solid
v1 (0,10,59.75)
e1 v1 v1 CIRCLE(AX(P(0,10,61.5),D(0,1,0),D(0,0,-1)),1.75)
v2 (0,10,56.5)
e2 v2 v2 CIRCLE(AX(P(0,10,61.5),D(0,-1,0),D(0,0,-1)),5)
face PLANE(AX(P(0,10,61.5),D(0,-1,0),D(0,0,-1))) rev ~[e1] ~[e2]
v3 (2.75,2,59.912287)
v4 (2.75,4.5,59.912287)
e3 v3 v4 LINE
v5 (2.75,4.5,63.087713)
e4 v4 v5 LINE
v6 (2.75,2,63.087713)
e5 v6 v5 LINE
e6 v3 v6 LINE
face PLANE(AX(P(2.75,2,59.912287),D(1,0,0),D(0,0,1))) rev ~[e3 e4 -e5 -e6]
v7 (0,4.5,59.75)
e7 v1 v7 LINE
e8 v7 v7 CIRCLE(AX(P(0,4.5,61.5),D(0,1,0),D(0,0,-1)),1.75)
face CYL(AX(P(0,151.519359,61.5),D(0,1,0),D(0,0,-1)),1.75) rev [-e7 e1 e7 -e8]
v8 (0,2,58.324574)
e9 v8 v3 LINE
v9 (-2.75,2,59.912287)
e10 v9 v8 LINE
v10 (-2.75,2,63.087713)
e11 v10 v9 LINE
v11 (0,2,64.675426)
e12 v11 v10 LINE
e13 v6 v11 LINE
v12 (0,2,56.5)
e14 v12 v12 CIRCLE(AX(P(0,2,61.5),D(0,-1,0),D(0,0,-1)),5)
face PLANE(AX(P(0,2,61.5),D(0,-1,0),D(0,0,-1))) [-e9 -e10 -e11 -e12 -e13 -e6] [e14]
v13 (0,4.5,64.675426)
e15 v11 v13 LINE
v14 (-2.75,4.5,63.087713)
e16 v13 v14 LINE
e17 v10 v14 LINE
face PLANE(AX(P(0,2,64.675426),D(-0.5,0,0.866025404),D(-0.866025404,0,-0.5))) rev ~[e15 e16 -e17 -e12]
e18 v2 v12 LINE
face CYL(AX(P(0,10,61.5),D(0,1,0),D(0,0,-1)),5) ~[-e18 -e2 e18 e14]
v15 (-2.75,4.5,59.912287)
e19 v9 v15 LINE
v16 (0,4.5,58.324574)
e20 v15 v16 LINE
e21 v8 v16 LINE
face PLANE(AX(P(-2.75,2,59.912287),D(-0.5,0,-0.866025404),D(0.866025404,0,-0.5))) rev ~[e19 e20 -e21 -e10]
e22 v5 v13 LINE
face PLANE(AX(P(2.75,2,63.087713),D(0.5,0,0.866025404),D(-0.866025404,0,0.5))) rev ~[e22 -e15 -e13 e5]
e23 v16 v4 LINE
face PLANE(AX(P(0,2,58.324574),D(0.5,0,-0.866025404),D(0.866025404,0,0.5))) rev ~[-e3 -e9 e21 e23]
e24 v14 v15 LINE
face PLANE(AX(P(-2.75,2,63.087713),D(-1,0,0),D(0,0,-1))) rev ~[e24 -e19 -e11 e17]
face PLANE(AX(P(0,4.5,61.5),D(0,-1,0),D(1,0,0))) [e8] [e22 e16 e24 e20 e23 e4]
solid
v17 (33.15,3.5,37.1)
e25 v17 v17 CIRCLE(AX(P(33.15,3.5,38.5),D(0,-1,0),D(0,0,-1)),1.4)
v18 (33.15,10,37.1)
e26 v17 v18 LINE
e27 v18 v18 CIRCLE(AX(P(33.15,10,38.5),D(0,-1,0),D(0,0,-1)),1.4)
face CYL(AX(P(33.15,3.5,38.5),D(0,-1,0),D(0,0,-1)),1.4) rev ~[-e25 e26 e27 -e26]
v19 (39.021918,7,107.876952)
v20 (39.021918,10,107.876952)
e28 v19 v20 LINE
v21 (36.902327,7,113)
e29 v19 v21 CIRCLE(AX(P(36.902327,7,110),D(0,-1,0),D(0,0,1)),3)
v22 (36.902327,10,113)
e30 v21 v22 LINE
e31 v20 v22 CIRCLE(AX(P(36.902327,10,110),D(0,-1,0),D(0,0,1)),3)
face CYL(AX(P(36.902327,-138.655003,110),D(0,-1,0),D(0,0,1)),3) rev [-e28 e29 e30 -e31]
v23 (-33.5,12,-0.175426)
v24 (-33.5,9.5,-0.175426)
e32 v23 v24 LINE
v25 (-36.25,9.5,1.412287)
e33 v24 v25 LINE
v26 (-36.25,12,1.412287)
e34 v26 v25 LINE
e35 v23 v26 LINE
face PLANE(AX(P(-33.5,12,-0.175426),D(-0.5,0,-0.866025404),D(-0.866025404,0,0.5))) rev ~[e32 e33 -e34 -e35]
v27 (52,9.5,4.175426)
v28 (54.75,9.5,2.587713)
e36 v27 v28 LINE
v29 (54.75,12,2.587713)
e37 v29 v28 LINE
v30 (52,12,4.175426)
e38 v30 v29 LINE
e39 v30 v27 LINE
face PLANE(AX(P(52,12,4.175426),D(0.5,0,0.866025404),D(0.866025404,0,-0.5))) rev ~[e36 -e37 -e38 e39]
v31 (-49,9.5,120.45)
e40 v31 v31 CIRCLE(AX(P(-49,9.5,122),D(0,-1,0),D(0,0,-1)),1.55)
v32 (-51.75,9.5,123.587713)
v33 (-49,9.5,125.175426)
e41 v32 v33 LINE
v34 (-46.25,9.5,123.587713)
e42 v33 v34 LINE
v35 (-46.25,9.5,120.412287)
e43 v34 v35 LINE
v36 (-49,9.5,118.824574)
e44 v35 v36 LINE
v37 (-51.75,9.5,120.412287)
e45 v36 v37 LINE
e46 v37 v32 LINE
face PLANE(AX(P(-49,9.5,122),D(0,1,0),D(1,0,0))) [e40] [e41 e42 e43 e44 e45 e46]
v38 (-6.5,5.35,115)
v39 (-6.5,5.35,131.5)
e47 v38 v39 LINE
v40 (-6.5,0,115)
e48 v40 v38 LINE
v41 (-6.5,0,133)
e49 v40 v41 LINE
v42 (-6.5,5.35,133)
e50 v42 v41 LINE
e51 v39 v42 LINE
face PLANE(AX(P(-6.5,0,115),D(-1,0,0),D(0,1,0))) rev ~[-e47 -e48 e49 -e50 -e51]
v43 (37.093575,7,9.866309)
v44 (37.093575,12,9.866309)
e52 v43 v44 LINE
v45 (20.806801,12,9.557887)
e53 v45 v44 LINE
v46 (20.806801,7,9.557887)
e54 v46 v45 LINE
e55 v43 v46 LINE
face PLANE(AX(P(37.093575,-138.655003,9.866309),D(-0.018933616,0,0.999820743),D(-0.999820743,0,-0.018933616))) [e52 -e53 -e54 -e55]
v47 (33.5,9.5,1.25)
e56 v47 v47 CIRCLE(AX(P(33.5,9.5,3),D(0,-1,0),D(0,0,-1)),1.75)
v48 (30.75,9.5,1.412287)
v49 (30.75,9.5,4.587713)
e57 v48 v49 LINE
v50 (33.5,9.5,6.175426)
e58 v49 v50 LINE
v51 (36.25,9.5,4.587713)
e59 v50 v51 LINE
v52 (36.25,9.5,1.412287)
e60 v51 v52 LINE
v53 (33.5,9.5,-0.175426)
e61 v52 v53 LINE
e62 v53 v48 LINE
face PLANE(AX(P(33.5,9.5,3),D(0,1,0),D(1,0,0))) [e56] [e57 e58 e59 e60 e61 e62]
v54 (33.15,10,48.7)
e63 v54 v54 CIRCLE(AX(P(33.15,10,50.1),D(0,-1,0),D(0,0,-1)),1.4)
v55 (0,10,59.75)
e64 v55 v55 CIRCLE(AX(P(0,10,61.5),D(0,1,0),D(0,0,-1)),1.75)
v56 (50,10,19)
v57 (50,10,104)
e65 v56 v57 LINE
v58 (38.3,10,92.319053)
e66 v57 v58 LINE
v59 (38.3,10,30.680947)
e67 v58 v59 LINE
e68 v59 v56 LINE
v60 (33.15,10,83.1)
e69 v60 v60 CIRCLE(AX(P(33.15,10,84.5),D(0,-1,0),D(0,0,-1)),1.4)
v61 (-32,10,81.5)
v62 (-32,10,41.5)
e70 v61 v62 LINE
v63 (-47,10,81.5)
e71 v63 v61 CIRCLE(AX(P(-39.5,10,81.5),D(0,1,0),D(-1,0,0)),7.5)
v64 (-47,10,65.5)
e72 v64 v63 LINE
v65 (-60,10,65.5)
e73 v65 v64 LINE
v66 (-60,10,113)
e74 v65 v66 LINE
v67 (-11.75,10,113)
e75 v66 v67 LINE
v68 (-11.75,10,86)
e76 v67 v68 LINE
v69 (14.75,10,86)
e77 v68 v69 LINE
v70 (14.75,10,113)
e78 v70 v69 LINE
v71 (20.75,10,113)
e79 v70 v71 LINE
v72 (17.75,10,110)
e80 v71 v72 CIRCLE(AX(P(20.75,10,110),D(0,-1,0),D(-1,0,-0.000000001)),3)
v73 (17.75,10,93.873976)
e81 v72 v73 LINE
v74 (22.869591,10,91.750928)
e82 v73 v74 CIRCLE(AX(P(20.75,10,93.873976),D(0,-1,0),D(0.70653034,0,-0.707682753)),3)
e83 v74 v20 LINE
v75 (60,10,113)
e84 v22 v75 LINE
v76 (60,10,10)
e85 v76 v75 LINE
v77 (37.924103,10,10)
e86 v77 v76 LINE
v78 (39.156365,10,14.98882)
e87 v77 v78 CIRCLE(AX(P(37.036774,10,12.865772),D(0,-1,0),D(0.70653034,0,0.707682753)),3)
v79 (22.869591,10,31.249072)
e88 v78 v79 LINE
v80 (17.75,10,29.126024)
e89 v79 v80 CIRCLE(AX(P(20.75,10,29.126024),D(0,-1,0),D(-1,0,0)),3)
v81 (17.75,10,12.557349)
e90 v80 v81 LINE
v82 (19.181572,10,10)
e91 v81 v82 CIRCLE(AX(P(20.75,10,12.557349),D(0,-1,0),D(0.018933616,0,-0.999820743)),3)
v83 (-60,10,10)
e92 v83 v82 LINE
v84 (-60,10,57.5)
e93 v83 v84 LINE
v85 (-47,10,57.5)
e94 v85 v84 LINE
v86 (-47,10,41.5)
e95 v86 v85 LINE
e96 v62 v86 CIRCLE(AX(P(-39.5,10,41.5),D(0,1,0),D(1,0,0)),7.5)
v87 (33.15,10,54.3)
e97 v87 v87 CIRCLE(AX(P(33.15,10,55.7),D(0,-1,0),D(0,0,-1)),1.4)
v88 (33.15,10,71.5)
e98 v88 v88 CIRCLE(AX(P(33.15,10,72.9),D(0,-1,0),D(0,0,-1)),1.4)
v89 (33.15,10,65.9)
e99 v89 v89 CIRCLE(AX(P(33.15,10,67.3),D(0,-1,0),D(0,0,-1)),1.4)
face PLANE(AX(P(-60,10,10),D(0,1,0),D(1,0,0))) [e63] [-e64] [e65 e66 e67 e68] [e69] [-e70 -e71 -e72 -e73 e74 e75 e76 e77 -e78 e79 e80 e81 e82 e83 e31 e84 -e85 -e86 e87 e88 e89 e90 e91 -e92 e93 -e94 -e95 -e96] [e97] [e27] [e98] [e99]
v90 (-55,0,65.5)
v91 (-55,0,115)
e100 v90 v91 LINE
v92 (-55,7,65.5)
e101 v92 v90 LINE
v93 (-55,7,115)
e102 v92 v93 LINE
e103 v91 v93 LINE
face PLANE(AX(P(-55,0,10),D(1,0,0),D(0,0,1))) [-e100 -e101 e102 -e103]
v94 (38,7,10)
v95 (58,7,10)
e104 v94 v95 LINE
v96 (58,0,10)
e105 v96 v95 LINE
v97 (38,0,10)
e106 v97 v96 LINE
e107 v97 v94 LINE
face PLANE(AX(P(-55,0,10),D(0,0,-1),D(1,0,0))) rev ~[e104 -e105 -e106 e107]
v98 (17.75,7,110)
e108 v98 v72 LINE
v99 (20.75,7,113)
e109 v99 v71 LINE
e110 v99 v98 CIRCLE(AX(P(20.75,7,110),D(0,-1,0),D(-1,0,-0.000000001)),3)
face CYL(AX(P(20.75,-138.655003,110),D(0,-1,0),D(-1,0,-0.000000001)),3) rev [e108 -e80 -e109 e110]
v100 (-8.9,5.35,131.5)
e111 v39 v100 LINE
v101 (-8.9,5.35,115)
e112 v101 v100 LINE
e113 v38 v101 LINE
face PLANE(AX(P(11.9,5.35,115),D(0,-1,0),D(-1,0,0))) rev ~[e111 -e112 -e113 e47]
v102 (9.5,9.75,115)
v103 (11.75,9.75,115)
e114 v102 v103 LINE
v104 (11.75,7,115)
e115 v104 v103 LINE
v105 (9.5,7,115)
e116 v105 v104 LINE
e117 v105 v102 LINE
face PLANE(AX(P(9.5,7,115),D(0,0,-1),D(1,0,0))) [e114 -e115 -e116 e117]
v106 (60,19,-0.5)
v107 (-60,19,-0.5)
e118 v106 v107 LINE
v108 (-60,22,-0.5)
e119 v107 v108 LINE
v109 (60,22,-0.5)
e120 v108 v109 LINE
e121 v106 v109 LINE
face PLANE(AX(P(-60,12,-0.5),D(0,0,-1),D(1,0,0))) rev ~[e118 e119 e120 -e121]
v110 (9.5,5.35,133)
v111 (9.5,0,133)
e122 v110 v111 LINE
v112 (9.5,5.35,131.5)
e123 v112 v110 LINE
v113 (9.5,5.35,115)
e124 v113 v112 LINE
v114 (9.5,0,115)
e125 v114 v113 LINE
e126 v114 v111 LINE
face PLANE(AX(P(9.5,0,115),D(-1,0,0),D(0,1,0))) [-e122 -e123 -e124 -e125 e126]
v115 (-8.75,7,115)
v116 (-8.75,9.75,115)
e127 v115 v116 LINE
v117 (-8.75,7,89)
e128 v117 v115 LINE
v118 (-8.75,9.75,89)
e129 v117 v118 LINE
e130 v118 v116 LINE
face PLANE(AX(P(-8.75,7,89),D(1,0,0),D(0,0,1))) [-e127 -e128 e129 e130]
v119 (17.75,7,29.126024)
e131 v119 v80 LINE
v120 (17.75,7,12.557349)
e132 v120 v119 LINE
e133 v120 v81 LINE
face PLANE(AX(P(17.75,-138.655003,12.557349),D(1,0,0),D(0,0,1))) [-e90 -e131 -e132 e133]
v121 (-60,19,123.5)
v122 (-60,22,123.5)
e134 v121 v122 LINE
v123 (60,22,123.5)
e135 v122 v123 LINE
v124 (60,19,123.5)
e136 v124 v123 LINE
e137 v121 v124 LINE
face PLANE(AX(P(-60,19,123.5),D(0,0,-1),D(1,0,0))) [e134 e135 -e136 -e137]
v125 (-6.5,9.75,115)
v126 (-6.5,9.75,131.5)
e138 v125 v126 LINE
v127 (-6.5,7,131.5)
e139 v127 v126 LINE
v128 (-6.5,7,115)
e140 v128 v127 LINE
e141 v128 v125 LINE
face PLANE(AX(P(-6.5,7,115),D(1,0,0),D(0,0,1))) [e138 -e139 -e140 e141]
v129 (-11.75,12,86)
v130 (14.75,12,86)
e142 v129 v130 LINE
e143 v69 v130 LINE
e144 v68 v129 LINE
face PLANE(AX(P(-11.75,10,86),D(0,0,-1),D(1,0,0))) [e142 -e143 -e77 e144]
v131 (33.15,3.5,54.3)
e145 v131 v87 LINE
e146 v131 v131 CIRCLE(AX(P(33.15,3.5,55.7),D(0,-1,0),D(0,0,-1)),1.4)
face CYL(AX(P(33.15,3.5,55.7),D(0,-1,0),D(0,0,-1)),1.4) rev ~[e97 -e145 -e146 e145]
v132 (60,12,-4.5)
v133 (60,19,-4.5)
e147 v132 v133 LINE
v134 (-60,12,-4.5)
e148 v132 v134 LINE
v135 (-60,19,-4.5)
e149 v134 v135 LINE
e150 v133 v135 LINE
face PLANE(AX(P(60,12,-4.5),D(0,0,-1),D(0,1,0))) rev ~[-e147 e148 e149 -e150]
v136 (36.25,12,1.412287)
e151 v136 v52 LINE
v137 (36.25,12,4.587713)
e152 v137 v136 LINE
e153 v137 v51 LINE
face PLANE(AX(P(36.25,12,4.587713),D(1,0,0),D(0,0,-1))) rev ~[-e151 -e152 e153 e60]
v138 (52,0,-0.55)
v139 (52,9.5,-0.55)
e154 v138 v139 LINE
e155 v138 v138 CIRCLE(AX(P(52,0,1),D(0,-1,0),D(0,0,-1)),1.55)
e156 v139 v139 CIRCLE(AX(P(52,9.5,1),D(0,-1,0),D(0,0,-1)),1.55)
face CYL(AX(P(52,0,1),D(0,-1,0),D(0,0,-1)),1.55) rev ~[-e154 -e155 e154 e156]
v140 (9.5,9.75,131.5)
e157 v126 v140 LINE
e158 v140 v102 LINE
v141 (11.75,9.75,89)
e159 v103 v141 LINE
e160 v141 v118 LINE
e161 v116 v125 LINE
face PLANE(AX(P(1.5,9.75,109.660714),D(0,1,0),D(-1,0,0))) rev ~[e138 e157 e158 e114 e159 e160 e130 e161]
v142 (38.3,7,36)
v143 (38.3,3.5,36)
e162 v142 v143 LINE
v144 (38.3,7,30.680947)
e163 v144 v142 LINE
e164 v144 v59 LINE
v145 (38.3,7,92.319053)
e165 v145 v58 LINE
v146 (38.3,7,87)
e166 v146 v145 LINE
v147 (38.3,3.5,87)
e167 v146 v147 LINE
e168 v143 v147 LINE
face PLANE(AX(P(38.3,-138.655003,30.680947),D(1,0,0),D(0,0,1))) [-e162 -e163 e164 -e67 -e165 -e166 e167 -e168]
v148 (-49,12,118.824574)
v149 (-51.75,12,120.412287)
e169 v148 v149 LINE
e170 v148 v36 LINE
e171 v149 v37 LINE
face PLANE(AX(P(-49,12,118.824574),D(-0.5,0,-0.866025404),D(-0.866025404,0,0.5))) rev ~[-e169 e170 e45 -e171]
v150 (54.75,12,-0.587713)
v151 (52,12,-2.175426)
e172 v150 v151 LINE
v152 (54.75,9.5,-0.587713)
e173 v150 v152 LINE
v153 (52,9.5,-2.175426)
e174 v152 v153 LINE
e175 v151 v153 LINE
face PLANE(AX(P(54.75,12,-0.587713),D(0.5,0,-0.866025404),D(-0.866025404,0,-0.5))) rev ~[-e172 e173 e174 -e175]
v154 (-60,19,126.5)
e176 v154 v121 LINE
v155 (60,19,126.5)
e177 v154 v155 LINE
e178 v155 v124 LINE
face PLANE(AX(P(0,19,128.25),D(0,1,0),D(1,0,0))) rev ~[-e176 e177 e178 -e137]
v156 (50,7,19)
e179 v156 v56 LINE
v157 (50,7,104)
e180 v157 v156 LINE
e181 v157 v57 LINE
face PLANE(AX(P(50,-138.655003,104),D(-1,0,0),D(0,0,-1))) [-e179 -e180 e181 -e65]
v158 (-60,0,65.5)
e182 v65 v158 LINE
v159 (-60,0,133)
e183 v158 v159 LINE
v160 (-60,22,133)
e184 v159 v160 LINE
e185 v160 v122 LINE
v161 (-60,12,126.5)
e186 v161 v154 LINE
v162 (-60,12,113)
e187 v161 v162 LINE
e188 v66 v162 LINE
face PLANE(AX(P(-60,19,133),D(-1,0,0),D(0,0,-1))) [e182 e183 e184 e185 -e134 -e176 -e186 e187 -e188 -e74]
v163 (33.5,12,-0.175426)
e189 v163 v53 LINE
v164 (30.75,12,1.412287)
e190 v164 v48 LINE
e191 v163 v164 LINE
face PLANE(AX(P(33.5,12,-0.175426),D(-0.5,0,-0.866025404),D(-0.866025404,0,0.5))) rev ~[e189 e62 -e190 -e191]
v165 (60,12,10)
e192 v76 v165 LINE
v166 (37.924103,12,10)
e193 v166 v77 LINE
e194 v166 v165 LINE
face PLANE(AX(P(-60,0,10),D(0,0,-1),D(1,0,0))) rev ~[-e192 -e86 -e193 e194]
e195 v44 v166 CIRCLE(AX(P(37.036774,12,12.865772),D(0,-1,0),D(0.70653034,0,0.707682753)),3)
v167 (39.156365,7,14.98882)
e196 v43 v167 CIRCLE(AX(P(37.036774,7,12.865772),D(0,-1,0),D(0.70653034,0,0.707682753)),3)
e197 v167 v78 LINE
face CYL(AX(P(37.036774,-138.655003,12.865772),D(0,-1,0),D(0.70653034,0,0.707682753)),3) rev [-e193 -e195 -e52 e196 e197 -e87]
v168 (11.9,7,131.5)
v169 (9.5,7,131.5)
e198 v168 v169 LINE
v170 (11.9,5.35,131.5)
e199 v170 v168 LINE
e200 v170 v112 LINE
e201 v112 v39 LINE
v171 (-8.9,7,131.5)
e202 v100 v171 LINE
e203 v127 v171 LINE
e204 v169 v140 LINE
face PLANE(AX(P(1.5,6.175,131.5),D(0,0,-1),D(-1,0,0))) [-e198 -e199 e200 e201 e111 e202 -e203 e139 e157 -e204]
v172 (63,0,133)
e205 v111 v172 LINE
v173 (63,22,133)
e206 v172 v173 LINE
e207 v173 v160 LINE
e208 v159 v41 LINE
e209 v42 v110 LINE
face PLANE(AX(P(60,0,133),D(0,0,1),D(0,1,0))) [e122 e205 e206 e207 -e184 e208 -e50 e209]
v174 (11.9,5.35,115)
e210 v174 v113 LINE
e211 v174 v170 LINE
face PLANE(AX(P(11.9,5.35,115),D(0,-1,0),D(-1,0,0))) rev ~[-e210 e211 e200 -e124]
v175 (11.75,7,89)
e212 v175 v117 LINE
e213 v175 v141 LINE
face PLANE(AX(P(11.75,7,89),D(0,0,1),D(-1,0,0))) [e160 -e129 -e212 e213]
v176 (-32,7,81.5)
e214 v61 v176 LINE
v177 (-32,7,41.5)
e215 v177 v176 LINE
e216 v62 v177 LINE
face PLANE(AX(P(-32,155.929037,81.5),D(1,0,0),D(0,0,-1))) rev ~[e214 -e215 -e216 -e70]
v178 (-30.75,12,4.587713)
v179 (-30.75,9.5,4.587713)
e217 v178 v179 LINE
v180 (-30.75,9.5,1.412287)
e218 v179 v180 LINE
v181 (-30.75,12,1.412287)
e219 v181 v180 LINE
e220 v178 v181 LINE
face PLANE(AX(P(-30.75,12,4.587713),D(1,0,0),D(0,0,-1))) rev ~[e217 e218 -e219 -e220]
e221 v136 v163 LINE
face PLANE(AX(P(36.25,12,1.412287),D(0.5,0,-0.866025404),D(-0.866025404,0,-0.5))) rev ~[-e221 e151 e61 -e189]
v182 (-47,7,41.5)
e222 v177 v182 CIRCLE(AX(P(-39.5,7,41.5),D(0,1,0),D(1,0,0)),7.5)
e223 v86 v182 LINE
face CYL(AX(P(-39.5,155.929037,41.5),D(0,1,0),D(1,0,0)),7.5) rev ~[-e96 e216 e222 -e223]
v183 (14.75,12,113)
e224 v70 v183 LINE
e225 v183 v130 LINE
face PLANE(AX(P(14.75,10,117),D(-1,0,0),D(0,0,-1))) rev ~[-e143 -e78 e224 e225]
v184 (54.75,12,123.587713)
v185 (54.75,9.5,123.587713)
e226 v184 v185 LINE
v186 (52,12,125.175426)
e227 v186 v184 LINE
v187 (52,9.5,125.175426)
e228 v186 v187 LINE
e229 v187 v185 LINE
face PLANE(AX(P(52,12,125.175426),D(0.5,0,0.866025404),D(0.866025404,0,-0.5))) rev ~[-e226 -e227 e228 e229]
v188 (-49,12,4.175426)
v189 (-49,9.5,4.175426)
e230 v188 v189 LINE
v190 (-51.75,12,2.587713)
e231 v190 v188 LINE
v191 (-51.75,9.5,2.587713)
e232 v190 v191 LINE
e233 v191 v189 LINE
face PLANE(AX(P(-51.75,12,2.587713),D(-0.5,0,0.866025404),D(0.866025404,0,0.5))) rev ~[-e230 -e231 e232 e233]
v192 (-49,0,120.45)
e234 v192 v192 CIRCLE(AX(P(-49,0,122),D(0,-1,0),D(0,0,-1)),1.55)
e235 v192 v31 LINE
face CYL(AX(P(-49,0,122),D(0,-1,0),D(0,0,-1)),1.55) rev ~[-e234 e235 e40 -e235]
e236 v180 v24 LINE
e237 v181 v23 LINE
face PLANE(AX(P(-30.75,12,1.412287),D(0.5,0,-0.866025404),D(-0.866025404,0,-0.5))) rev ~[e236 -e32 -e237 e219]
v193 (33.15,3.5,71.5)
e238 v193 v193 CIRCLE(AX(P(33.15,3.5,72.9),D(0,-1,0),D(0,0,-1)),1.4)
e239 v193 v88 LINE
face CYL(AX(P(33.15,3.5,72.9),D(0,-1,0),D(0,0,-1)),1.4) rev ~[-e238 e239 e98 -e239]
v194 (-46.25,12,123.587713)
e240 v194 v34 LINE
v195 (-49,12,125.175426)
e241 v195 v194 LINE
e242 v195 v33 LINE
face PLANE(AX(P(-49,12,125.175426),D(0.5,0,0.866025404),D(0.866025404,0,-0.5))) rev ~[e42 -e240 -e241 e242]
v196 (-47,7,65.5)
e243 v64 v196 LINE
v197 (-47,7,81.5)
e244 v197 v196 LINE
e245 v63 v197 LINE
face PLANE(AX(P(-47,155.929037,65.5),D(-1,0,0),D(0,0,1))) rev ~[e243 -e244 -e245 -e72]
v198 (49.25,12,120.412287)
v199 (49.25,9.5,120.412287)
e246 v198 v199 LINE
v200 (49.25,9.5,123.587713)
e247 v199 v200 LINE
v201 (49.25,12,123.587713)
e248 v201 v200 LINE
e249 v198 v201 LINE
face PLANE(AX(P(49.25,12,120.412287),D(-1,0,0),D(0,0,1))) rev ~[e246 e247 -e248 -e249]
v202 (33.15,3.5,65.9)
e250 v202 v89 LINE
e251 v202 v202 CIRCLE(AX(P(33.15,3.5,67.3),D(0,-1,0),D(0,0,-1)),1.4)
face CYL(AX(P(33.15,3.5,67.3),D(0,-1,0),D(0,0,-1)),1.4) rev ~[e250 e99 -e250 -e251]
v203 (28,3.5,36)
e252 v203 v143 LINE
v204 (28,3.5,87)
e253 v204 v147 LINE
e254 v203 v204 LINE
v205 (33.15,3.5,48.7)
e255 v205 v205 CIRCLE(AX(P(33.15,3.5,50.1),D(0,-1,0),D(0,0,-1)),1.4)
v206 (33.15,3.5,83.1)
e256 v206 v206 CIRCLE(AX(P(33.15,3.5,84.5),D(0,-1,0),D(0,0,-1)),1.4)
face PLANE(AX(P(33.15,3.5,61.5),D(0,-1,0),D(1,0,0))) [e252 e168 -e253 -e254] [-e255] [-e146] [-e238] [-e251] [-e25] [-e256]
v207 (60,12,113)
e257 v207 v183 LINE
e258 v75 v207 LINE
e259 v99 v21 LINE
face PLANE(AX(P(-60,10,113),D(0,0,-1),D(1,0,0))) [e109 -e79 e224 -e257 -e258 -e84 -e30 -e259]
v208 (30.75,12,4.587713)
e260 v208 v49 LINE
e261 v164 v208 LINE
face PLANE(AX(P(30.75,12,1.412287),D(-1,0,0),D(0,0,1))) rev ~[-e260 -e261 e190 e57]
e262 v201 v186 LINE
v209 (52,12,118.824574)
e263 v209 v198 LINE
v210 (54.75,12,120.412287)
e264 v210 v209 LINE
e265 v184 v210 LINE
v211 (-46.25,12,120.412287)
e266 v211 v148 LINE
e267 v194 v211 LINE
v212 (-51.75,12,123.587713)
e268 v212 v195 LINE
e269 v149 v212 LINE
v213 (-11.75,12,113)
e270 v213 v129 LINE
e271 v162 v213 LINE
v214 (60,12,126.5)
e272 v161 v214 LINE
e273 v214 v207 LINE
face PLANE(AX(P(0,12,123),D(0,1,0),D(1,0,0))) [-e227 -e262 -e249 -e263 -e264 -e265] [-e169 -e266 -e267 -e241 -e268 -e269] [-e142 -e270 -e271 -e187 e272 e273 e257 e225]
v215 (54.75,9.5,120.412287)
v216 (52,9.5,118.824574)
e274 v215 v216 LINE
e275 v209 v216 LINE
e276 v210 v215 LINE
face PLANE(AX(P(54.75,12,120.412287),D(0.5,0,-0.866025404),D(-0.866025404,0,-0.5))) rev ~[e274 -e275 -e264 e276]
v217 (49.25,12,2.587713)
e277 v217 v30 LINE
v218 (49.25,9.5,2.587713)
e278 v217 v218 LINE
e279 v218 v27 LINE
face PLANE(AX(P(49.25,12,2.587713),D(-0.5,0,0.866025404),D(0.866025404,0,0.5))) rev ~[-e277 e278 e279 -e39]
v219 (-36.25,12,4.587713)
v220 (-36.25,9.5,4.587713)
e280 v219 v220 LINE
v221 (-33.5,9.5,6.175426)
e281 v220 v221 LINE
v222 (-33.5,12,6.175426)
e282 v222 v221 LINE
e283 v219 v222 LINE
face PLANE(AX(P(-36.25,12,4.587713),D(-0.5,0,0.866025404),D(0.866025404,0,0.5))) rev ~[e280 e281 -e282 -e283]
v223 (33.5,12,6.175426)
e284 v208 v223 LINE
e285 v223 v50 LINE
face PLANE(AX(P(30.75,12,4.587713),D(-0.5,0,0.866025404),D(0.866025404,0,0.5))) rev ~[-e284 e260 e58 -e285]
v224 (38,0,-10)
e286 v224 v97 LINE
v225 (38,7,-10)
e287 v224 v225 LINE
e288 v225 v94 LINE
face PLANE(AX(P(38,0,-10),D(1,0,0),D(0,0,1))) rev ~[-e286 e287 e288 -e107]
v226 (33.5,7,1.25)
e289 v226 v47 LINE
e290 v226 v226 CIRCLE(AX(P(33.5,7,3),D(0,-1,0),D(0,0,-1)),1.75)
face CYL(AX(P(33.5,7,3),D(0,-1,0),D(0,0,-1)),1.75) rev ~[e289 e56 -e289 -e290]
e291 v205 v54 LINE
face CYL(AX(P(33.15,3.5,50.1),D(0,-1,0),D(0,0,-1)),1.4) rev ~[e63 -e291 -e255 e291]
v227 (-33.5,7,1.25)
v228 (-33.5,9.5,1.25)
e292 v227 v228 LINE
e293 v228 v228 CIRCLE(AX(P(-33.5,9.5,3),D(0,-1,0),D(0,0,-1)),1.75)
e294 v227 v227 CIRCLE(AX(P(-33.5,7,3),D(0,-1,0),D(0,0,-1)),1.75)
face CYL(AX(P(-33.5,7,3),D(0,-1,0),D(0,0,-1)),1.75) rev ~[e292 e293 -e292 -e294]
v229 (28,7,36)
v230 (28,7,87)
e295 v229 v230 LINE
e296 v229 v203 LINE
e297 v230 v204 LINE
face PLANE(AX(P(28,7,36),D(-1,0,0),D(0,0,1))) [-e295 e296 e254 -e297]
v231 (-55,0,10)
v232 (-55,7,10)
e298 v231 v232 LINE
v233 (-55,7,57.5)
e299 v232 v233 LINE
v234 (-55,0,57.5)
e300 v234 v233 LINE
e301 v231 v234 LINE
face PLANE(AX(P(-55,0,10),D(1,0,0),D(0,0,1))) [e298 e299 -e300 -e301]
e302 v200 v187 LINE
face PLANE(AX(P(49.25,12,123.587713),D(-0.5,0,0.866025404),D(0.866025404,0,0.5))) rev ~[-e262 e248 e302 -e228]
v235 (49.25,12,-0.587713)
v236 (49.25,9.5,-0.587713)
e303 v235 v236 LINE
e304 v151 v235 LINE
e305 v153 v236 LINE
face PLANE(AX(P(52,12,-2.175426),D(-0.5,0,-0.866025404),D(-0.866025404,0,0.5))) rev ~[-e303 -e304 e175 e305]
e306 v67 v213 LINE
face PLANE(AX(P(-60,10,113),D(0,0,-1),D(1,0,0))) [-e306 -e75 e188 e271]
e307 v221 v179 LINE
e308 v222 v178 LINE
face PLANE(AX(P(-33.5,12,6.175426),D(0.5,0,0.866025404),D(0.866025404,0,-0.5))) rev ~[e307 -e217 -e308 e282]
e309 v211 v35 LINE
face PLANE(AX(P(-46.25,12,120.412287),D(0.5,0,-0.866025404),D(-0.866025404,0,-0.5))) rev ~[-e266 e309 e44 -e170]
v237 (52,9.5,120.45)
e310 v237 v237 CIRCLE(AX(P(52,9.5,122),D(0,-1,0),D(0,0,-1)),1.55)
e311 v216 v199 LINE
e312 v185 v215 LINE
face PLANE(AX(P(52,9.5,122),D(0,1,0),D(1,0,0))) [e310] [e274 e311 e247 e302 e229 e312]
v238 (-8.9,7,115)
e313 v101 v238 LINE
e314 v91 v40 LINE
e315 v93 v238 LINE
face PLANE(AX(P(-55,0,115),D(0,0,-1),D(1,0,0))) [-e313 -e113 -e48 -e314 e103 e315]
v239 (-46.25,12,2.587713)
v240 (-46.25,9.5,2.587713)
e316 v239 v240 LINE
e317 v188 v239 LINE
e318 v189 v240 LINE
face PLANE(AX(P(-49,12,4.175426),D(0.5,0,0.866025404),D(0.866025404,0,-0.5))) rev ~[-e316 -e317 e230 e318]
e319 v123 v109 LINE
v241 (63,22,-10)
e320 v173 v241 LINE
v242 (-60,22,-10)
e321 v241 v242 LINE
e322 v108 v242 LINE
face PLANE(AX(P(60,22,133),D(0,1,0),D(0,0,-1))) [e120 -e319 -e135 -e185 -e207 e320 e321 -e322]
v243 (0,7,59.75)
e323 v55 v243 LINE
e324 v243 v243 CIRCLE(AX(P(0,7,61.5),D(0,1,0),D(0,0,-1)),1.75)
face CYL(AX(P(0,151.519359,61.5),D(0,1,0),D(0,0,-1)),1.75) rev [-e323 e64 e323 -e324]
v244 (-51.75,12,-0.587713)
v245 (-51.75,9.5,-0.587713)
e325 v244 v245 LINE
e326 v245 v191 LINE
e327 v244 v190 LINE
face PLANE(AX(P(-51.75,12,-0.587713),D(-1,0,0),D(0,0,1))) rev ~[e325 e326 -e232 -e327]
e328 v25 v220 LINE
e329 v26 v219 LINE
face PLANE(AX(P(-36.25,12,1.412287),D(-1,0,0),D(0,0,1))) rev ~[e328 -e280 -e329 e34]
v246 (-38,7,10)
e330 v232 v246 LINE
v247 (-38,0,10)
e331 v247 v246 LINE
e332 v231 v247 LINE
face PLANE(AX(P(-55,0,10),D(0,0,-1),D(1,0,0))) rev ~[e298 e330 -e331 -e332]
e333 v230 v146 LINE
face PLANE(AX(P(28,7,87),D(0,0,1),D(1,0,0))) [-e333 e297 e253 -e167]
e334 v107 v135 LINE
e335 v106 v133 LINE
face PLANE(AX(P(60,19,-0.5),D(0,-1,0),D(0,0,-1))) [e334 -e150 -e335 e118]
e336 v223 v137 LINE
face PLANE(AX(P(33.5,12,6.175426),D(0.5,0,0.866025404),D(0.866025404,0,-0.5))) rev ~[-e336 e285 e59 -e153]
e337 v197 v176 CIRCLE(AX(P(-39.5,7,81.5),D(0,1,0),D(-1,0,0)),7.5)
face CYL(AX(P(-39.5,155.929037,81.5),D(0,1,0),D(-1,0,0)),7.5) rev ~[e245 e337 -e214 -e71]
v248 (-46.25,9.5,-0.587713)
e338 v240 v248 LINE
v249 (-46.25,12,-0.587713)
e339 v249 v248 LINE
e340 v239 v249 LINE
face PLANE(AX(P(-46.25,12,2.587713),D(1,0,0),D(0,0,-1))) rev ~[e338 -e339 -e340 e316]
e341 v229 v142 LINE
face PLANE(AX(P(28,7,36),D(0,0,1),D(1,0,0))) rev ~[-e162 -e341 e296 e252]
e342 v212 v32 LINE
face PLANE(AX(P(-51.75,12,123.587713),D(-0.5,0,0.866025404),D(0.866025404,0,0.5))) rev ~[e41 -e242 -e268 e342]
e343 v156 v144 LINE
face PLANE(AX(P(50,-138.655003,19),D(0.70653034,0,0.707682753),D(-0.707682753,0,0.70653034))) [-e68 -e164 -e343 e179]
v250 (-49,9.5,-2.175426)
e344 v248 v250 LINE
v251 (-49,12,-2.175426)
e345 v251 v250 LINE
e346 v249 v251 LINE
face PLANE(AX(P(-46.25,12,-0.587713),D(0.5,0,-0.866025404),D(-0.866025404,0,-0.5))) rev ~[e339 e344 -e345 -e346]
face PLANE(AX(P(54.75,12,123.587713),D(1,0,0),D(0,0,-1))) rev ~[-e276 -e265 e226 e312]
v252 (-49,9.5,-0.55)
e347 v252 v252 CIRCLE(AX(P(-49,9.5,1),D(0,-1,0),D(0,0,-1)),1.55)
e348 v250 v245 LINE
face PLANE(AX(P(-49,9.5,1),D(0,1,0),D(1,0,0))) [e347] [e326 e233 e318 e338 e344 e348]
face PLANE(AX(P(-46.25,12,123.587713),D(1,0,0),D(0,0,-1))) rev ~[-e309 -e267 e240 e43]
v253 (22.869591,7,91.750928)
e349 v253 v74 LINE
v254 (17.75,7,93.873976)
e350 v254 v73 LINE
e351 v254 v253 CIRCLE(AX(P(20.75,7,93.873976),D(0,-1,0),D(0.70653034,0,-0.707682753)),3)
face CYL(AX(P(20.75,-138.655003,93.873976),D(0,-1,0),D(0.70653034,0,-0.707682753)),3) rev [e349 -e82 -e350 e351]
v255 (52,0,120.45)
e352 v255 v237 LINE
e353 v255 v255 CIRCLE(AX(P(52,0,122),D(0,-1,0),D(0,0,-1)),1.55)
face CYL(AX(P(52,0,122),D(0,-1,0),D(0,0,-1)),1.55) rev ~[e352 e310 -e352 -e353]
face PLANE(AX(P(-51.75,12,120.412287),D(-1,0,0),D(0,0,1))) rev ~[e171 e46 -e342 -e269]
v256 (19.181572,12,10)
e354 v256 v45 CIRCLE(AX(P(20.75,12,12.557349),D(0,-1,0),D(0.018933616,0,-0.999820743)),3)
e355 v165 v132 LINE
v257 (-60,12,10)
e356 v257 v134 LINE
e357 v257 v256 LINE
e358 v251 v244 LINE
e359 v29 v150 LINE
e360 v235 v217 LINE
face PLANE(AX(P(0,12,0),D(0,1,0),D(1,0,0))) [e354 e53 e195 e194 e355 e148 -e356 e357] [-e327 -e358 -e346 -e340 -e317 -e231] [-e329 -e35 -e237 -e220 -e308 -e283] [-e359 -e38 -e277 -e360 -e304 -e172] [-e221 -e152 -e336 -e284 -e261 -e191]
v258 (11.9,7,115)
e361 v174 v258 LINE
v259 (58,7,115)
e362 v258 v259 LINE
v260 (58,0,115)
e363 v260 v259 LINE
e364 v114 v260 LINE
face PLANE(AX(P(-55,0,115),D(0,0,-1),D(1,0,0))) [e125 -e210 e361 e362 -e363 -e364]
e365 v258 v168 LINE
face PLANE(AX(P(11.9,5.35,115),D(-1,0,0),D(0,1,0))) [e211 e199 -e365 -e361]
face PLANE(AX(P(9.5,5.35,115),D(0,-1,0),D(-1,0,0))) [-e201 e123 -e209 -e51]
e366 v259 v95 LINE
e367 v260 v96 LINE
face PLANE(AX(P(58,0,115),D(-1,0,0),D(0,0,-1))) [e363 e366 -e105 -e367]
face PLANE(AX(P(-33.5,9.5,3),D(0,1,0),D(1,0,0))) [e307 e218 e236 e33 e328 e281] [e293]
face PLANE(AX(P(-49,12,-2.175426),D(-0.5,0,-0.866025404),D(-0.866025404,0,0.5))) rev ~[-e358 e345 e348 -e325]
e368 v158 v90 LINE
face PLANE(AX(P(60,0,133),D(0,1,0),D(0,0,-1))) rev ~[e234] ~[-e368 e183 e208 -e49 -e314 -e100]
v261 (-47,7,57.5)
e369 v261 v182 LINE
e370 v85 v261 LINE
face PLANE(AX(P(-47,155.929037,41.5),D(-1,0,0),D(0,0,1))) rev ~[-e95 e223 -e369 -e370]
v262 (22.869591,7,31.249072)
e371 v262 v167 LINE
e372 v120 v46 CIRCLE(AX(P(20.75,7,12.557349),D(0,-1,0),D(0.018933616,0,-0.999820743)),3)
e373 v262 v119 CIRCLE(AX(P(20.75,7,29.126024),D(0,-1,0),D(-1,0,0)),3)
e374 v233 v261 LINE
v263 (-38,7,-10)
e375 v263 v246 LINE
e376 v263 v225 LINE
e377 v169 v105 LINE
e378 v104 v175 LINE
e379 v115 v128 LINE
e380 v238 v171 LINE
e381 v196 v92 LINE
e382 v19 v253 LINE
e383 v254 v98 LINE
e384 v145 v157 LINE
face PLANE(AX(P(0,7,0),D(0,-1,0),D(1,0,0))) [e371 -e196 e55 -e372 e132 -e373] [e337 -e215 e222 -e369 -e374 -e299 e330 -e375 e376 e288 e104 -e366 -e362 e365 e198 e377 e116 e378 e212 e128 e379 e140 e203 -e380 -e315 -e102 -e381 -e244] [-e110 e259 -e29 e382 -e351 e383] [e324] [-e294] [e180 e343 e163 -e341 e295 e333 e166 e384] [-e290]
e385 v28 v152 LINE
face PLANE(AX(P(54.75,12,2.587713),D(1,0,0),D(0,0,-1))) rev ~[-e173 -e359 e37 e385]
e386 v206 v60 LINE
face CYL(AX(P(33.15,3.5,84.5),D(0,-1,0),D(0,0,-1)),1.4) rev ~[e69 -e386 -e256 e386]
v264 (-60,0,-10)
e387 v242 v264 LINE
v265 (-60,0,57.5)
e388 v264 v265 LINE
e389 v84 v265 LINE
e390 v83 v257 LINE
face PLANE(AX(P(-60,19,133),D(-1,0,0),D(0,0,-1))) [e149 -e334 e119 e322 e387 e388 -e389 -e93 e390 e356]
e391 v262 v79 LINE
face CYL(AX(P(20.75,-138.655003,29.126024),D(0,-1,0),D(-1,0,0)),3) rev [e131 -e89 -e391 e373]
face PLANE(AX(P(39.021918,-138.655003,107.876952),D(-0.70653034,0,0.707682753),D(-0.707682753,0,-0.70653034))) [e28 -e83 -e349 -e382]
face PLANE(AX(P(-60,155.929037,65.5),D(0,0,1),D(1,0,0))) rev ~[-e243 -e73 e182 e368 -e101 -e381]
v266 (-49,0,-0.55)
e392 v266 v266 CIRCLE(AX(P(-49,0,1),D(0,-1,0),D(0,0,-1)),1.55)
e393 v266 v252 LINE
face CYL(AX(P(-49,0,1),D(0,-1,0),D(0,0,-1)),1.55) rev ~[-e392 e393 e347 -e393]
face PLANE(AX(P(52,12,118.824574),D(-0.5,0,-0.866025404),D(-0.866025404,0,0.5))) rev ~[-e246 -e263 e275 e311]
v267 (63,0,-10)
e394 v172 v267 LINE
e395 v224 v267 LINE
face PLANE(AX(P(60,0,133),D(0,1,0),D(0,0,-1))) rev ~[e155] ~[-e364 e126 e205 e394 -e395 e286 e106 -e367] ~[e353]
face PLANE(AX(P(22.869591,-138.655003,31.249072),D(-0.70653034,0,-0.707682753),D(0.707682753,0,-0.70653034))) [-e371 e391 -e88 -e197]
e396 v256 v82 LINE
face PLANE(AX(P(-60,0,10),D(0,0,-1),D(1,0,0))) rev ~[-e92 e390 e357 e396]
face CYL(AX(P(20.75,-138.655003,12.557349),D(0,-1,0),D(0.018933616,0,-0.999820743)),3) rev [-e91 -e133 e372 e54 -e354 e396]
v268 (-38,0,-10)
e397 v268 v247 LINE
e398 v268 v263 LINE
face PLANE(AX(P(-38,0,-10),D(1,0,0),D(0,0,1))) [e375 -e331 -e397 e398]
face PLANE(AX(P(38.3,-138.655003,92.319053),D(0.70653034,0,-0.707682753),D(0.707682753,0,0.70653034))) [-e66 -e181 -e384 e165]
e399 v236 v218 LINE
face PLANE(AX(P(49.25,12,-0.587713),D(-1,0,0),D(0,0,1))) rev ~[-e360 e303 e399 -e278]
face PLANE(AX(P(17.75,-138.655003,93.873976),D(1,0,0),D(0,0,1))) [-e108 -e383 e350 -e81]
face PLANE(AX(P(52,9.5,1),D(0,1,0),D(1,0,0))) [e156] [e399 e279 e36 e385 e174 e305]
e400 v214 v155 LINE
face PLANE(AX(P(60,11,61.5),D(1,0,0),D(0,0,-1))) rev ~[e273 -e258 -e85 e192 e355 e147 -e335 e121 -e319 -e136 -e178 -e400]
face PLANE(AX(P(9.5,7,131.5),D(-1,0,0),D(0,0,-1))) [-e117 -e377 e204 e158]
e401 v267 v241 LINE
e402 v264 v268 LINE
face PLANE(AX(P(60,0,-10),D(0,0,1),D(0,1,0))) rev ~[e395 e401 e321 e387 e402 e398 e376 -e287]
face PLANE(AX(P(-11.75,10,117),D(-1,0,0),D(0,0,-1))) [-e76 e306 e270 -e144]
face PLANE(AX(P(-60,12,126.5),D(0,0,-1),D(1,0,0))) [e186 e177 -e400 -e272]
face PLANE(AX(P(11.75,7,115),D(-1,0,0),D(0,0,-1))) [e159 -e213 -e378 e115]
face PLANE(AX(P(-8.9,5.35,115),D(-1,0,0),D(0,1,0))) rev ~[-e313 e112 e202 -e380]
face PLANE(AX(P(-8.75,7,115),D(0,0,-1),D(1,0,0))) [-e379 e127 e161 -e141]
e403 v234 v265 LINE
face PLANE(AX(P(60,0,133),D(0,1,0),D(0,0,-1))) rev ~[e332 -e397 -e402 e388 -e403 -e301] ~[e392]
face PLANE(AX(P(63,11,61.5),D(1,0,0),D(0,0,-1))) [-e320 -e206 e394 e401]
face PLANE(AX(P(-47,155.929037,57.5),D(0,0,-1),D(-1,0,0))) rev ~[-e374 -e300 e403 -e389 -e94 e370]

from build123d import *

# Parameters (mm, degrees)
SKETCH1_W                = 120
SKETCH1_H                = 20
BOSS_EXTRUDE1_DEPTH      = 12
SKETCH2_W                = 120
SKETCH2_H                = 9.5
BOSS_EXTRUDE2_DEPTH      = 10
CUT_EXTRUDE1_REACH       = 124.409
SKETCH3_W                = 4
SKETCH3_H                = 7
SKETCH4_W                = 76
SKETCH4_H                = 20
CUT_EXTRUDE2_DEPTH       = 7
SKETCH7_W                = 120
SKETCH7_H                = 10
BOSS_EXTRUDE3_DEPTH      = 123
SKETCH8_W                = 120
SKETCH8_H                = 20
BOSS_EXTRUDE4_DEPTH      = 2
SKETCH10_W               = 120
SKETCH10_H               = 6.5
BOSS_EXTRUDE5_DEPTH      = 7
SKETCH11_W               = 120
SKETCH11_H               = 9.5
BOSS_EXTRUDE6_DEPTH      = 3
SKETCH13_W               = 143
SKETCH13_H               = 22
BOSS_EXTRUDE7_DEPTH      = 3
CUT_EXTRUDE5_DEPTH       = 7
SKETCH16_W               = 20.8
SKETCH16_H               = 1.65
CUT_EXTRUDE6_DEPTH       = 16.5
SKETCH17_W               = 16
SKETCH17_H               = 5.35
CUT_EXTRUDE7_DEPTH       = 142.696859528
CUT_EXTRUDE8_DEPTH       = 2.75
CUT_EXTRUDE9_DEPTH       = 148.929037041
CUT_EXTRUDE9_DEPTH_BACK  = 148.929037041
SKETCH22_W               = 26.5
SKETCH22_H               = 31
BOSS_EXTRUDE8_DEPTH      = 2
CUT_EXTRUDE11_REACH      = 149.929
SKETCH27_R               = 1.75
SKETCH20_R               = 5
BOSS_EXTRUDE9_DEPTH      = 8
CUT_EXTRUDE13_DEPTH      = 2.5
CUT_EXTRUDE14_DEPTH      = 149.519359008
CUT_EXTRUDE14_DEPTH_BACK = 149.519359008
SKETCH31_R               = 1.75
SKETCH32_W               = 10.3
SKETCH32_H               = 51
BOSS_EXTRUDE10_DEPTH     = 3.5
SKETCH33_R               = 1.4
CUT_EXTRUDE15_DEPTH      = 149.324812489
SKETCH38_R               = 1.55
CUT_EXTRUDE19_DEPTH      = 12
CUT_EXTRUDE20_DEPTH      = 2.5
CUT_EXTRUDE21_DEPTH      = 148.655003302
CUT_EXTRUDE21_DEPTH_BACK = 148.655003302


with BuildPart() as part:
    # Sketch1 → Boss-Extrude1 (new body)
    with BuildSketch(Plane(origin=(0, 0, 0), x_dir=(1, 0, 0), z_dir=(0, 1, 0))):
        Rectangle(SKETCH1_W, SKETCH1_H)
    extrude(amount=BOSS_EXTRUDE1_DEPTH)

    # Sketch2 → Boss-Extrude2 (add)
    with BuildSketch(Plane(origin=(0, 12, 0), x_dir=(1, 0, 0), z_dir=(0, 1, 0))):
        with Locations((0, 5.25)):
            Rectangle(SKETCH2_W, SKETCH2_H)
    extrude(amount=BOSS_EXTRUDE2_DEPTH)

    # Sketch3 → Cut-Extrude1 (cut, up to next)
    with BuildSketch(Plane(origin=(60, 0, 0), x_dir=(0, 0, -1), z_dir=(1, 0, 0)), mode=Mode.PRIVATE) as cut_extrude1_sk1:
        with Locations((2.5, 15.5)):
            Rectangle(SKETCH3_W, SKETCH3_H)
    cut_extrude1_tool1 = extrude(cut_extrude1_sk1.sketch, amount=-CUT_EXTRUDE1_REACH, mode=Mode.PRIVATE) & part.part
    add(cut_extrude1_tool1.solids().sort_by_distance((60, 15.5, -2.5))[0], mode=Mode.SUBTRACT)

    # Sketch4 → Cut-Extrude2 (cut)
    with BuildSketch(Plane.XZ):
        Rectangle(SKETCH4_W, SKETCH4_H)
    extrude(amount=-CUT_EXTRUDE2_DEPTH, mode=Mode.SUBTRACT)

    # Sketch7 → Boss-Extrude3 (add)
    with BuildSketch(Plane.XY.offset(10)):
        with Locations((0, 5)):
            Rectangle(SKETCH7_W, SKETCH7_H)
    extrude(amount=BOSS_EXTRUDE3_DEPTH)

    # Sketch8 → Boss-Extrude4 (add)
    with BuildSketch(Plane(origin=(0, 10, 0), x_dir=(1, 0, 0), z_dir=(0, 1, 0))):
        with Locations((0, -123)):
            Rectangle(SKETCH8_W, SKETCH8_H)
    extrude(amount=BOSS_EXTRUDE4_DEPTH)



with BuildPart() as body_2:
    # Sketch10 → Boss-Extrude5 (new body)
    with BuildSketch(Plane(origin=(0, 12, 0), x_dir=(1, 0, 0), z_dir=(0, 1, 0))):
        with Locations((0, -129.75)):
            Rectangle(SKETCH10_W, SKETCH10_H)
    extrude(amount=BOSS_EXTRUDE5_DEPTH)


with BuildPart() as part_1:
    add(part.part)

    add(body_2.part)  # Boss-Extrude6 merges body 2
    # Sketch11 → Boss-Extrude6 (add)
    with BuildSketch(Plane(origin=(0, 19, 0), x_dir=(1, 0, 0), z_dir=(0, 1, 0))):
        with Locations((0, -128.25)):
            Rectangle(SKETCH11_W, SKETCH11_H)
    extrude(amount=BOSS_EXTRUDE6_DEPTH)

    # Sketch13 → Boss-Extrude7 (add)
    with BuildSketch(Plane(origin=(60, 0, 0), x_dir=(0, 0, -1), z_dir=(1, 0, 0))):
        with Locations((-61.5, 11)):
            Rectangle(SKETCH13_W, SKETCH13_H)
    extrude(amount=BOSS_EXTRUDE7_DEPTH)

    # Sketch14 → Cut-Extrude5 (cut)
    with BuildSketch(Plane.XZ):
        Polygon((-38, 10), (-55, 10), (-55, 115), (58, 115), (58, 10), (38, 10), align=None)
    extrude(amount=-CUT_EXTRUDE5_DEPTH, mode=Mode.SUBTRACT)

    # Sketch16 → Cut-Extrude6 (cut)
    with BuildSketch(Plane(origin=(0, 0, 115), x_dir=(-1, 0, 0), z_dir=(0, 0, -1))):
        with Locations((-1.5, 6.175)):
            Rectangle(SKETCH16_W, SKETCH16_H)
    extrude(amount=-CUT_EXTRUDE6_DEPTH, mode=Mode.SUBTRACT)

    # Sketch17 → Cut-Extrude7 (cut, through all)
    with BuildSketch(Plane(origin=(0, 0, 115), x_dir=(-1, 0, 0), z_dir=(0, 0, -1))):
        with Locations((-1.5, 2.675)):
            Rectangle(SKETCH17_W, SKETCH17_H)
    extrude(amount=-CUT_EXTRUDE7_DEPTH, mode=Mode.SUBTRACT)

    # Sketch18 → Cut-Extrude8 (cut)
    with BuildSketch(Plane.XZ.offset(-7)):
        Polygon((-6.5, 131.5), (9.5, 131.5), (9.5, 115), (11.75, 115), (11.75, 89), (-8.75, 89), (-8.75, 115), (-6.5, 115), align=None)
    extrude(amount=-CUT_EXTRUDE8_DEPTH, mode=Mode.SUBTRACT)

    # Sketch19 → Cut-Extrude9 (cut, two sides: drawn at the far end of the back side and taken through both)
    with BuildSketch(Plane.XZ.offset(-7).offset(-CUT_EXTRUDE9_DEPTH_BACK)):
        with BuildLine():
            Line((-47, 57.5), (-60, 57.5))
            ThreePointArc((-60, 57.5), (-64, 61.5), (-60, 65.5))
            Line((-60, 65.5), (-47, 65.5))
            Line((-47, 65.5), (-47, 81.5))
            ThreePointArc((-47, 81.5), (-39.5, 89), (-32, 81.5))
            Line((-32, 81.5), (-32, 41.5))
            ThreePointArc((-32, 41.5), (-39.5, 34), (-47, 41.5))
            Line((-47, 41.5), (-47, 57.5))
        make_face()
    extrude(amount=CUT_EXTRUDE9_DEPTH + CUT_EXTRUDE9_DEPTH_BACK, mode=Mode.SUBTRACT)

    # Sketch22 → Boss-Extrude8 (add)
    with BuildSketch(Plane(origin=(0, 10, 0), x_dir=(1, 0, 0), z_dir=(0, 1, 0))):
        with Locations((1.5, -101.5)):
            Rectangle(SKETCH22_W, SKETCH22_H)
    extrude(amount=BOSS_EXTRUDE8_DEPTH)

    # Sketch27 → Cut-Extrude11 (cut, up to next)
    with BuildSketch(Plane.XZ.offset(-7), mode=Mode.PRIVATE) as cut_extrude11_sk1:
        with Locations(Location((33.5, 3, 0), (0, 0, 270))):
            Circle(SKETCH27_R)
    cut_extrude11_tool1 = extrude(cut_extrude11_sk1.sketch, amount=-CUT_EXTRUDE11_REACH, mode=Mode.PRIVATE) & part_1.part
    # Sketch27 → Cut-Extrude11 (cut, up to next)
    with BuildSketch(Plane.XZ.offset(-7), mode=Mode.PRIVATE) as cut_extrude11_sk2:
        with Locations(Location((-33.5, 3, 0), (0, 0, 270))):
            Circle(SKETCH27_R)
    cut_extrude11_tool2 = extrude(cut_extrude11_sk2.sketch, amount=-CUT_EXTRUDE11_REACH, mode=Mode.PRIVATE) & part_1.part
    add(cut_extrude11_tool1.solids().sort_by_distance((33.5, 7, 3))[0], mode=Mode.SUBTRACT)
    add(cut_extrude11_tool2.solids().sort_by_distance((-33.5, 7, 3))[0], mode=Mode.SUBTRACT)


with BuildPart() as body_2_2:
    # Sketch20 → Boss-Extrude9 (new body)
    with BuildSketch(Plane.XZ.offset(-10)):
        with Locations(Location((0, 61.5, 0), (0, 0, 270))):
            Circle(SKETCH20_R)
    extrude(amount=BOSS_EXTRUDE9_DEPTH)

    # Sketch29 → Cut-Extrude13 (cut)
    with BuildSketch(Plane.XZ.offset(-2)):
        Polygon((2.75, 63.08771324), (0, 64.675426481), (-2.75, 63.08771324), (-2.75, 59.91228676), (0, 58.324573519), (2.75, 59.91228676), align=None)
    extrude(amount=-CUT_EXTRUDE13_DEPTH, mode=Mode.SUBTRACT)


with BuildPart() as cut_extrude14_tool:
    # Sketch31 → Cut-Extrude14 (new, two sides: drawn at the far end of the back side and taken through both)
    with BuildSketch(Plane.XZ.offset(-2).offset(-CUT_EXTRUDE14_DEPTH_BACK)):
        with Locations(Location((0, 61.5, 0), (0, 0, 270))):
            Circle(SKETCH31_R)
    extrude(amount=CUT_EXTRUDE14_DEPTH + CUT_EXTRUDE14_DEPTH_BACK)


with BuildPart() as part_2:
    add(part_1.part)

    # Cut-Extrude14: cut by cut_extrude14_tool
    add(cut_extrude14_tool.part, mode=Mode.SUBTRACT)

    # Sketch32 → Boss-Extrude10 (add)
    with BuildSketch(Plane.XZ.offset(-7)):
        with Locations((33.15, 61.5)):
            Rectangle(SKETCH32_W, SKETCH32_H)
    extrude(amount=BOSS_EXTRUDE10_DEPTH)

    # Sketch33 → Cut-Extrude15 (cut, through all)
    with BuildSketch(Plane.XZ.offset(-3.5)):
        with Locations(Location((33.15, 38.5, 0), (0, 0, 270))):
            Circle(SKETCH33_R)
        with Locations(Location((33.15, 50.1, 0), (0, 0, 270))):
            Circle(SKETCH33_R)
        with Locations(Location((33.15, 72.9, 0), (0, 0, 270))):
            Circle(SKETCH33_R)
        with Locations(Location((33.15, 84.5, 0), (0, 0, 270))):
            Circle(SKETCH33_R)
        with Locations(Location((33.15, 55.7, 0), (0, 0, 270))):
            Circle(SKETCH33_R)
        with Locations(Location((33.15, 67.3, 0), (0, 0, 270))):
            Circle(SKETCH33_R)
    extrude(amount=-CUT_EXTRUDE15_DEPTH, mode=Mode.SUBTRACT)

    # Sketch38 → Cut-Extrude19 (cut)
    with BuildSketch(Plane.XZ):
        with Locations(Location((-49, 122, 0), (0, 0, 270))):
            Circle(SKETCH38_R)
        with Locations(Location((52, 122, 0), (0, 0, 270))):
            Circle(SKETCH38_R)
        with Locations(Location((52, 1, 0), (0, 0, 270))):
            Circle(SKETCH38_R)
        with Locations(Location((-49, 1, 0), (0, 0, 270))):
            Circle(SKETCH38_R)
    extrude(amount=-CUT_EXTRUDE19_DEPTH, mode=Mode.SUBTRACT)

    # Sketch39 → Cut-Extrude20 (cut)
    with BuildSketch(Plane(origin=(0, 12, 0), x_dir=(1, 0, 0), z_dir=(0, 1, 0))):
        Polygon((-46.25, -2.58771324), (-46.25, 0.58771324), (-49, 2.175426481), (-51.75, 0.58771324), (-51.75, -2.58771324), (-49, -4.175426481), align=None)
        Polygon((-30.75, -4.58771324), (-30.75, -1.41228676), (-33.5, 0.175426481), (-36.25, -1.41228676), (-36.25, -4.58771324), (-33.5, -6.175426481), align=None)
        Polygon((33.5, -6.175426481), (36.25, -4.58771324), (36.25, -1.41228676), (33.5, 0.175426481), (30.75, -1.41228676), (30.75, -4.58771324), align=None)
        Polygon((52, -4.175426481), (54.75, -2.58771324), (54.75, 0.58771324), (52, 2.175426481), (49.25, 0.58771324), (49.25, -2.58771324), align=None)
        Polygon((54.75, -120.41228676), (52, -118.824573519), (49.25, -120.41228676), (49.25, -123.58771324), (52, -125.175426481), (54.75, -123.58771324), align=None)
        Polygon((-46.25, -120.41228676), (-49, -118.824573519), (-51.75, -120.41228676), (-51.75, -123.58771324), (-49, -125.175426481), (-46.25, -123.58771324), align=None)
    extrude(amount=-CUT_EXTRUDE20_DEPTH, mode=Mode.SUBTRACT)

    # Sketch40 → Cut-Extrude21 (cut, two sides: drawn at the far end of the back side and taken through both)
    with BuildSketch(Plane(origin=(0, 10, 0), x_dir=(1, 0, 0), z_dir=(0, 1, 0)).offset(-CUT_EXTRUDE21_DEPTH_BACK)):
        Polygon((50, -104), (50, -19), (38.3, -30.680947351), (38.3, -92.319052649), align=None)
        with BuildLine():
            Line((17.75, -93.873976136), (17.75, -110))
            ThreePointArc((17.75, -110), (18.628679656, -112.121320344), (20.75, -113))
            Line((20.75, -113), (36.902326822, -113))
            ThreePointArc((36.902326822, -113), (39.674432951, -111.146920927), (39.021917842, -107.876951741))
            Line((39.021917842, -107.876951741), (22.86959102, -91.750927878))
            ThreePointArc((22.86959102, -91.750927878), (19.600820523, -91.10280553), (17.75, -93.873976136))
        make_face()
        with BuildLine():
            Line((17.75, -12.5573489), (17.75, -29.126023864))
            ThreePointArc((17.75, -29.126023864), (19.600820523, -31.89719447), (22.86959102, -31.249072122))
            Line((22.86959102, -31.249072122), (39.156365064, -14.988819975))
            ThreePointArc((39.156365064, -14.988819975), (39.819614107, -11.745146363), (37.093574893, -9.866309488))
            Line((37.093574893, -9.866309488), (20.806800849, -9.557886671))
            ThreePointArc((20.806800849, -9.557886671), (18.648857757, -10.416040591), (17.75, -12.5573489))
        make_face()
    extrude(amount=CUT_EXTRUDE21_DEPTH + CUT_EXTRUDE21_DEPTH_BACK, mode=Mode.SUBTRACT)


with BuildPart() as body_2_2_1:
    add(body_2_2.part)

    # Cut-Extrude14: cut by cut_extrude14_tool
    add(cut_extrude14_tool.part, mode=Mode.SUBTRACT)


solid = Compound([part_2.part, body_2_2_1.part])
